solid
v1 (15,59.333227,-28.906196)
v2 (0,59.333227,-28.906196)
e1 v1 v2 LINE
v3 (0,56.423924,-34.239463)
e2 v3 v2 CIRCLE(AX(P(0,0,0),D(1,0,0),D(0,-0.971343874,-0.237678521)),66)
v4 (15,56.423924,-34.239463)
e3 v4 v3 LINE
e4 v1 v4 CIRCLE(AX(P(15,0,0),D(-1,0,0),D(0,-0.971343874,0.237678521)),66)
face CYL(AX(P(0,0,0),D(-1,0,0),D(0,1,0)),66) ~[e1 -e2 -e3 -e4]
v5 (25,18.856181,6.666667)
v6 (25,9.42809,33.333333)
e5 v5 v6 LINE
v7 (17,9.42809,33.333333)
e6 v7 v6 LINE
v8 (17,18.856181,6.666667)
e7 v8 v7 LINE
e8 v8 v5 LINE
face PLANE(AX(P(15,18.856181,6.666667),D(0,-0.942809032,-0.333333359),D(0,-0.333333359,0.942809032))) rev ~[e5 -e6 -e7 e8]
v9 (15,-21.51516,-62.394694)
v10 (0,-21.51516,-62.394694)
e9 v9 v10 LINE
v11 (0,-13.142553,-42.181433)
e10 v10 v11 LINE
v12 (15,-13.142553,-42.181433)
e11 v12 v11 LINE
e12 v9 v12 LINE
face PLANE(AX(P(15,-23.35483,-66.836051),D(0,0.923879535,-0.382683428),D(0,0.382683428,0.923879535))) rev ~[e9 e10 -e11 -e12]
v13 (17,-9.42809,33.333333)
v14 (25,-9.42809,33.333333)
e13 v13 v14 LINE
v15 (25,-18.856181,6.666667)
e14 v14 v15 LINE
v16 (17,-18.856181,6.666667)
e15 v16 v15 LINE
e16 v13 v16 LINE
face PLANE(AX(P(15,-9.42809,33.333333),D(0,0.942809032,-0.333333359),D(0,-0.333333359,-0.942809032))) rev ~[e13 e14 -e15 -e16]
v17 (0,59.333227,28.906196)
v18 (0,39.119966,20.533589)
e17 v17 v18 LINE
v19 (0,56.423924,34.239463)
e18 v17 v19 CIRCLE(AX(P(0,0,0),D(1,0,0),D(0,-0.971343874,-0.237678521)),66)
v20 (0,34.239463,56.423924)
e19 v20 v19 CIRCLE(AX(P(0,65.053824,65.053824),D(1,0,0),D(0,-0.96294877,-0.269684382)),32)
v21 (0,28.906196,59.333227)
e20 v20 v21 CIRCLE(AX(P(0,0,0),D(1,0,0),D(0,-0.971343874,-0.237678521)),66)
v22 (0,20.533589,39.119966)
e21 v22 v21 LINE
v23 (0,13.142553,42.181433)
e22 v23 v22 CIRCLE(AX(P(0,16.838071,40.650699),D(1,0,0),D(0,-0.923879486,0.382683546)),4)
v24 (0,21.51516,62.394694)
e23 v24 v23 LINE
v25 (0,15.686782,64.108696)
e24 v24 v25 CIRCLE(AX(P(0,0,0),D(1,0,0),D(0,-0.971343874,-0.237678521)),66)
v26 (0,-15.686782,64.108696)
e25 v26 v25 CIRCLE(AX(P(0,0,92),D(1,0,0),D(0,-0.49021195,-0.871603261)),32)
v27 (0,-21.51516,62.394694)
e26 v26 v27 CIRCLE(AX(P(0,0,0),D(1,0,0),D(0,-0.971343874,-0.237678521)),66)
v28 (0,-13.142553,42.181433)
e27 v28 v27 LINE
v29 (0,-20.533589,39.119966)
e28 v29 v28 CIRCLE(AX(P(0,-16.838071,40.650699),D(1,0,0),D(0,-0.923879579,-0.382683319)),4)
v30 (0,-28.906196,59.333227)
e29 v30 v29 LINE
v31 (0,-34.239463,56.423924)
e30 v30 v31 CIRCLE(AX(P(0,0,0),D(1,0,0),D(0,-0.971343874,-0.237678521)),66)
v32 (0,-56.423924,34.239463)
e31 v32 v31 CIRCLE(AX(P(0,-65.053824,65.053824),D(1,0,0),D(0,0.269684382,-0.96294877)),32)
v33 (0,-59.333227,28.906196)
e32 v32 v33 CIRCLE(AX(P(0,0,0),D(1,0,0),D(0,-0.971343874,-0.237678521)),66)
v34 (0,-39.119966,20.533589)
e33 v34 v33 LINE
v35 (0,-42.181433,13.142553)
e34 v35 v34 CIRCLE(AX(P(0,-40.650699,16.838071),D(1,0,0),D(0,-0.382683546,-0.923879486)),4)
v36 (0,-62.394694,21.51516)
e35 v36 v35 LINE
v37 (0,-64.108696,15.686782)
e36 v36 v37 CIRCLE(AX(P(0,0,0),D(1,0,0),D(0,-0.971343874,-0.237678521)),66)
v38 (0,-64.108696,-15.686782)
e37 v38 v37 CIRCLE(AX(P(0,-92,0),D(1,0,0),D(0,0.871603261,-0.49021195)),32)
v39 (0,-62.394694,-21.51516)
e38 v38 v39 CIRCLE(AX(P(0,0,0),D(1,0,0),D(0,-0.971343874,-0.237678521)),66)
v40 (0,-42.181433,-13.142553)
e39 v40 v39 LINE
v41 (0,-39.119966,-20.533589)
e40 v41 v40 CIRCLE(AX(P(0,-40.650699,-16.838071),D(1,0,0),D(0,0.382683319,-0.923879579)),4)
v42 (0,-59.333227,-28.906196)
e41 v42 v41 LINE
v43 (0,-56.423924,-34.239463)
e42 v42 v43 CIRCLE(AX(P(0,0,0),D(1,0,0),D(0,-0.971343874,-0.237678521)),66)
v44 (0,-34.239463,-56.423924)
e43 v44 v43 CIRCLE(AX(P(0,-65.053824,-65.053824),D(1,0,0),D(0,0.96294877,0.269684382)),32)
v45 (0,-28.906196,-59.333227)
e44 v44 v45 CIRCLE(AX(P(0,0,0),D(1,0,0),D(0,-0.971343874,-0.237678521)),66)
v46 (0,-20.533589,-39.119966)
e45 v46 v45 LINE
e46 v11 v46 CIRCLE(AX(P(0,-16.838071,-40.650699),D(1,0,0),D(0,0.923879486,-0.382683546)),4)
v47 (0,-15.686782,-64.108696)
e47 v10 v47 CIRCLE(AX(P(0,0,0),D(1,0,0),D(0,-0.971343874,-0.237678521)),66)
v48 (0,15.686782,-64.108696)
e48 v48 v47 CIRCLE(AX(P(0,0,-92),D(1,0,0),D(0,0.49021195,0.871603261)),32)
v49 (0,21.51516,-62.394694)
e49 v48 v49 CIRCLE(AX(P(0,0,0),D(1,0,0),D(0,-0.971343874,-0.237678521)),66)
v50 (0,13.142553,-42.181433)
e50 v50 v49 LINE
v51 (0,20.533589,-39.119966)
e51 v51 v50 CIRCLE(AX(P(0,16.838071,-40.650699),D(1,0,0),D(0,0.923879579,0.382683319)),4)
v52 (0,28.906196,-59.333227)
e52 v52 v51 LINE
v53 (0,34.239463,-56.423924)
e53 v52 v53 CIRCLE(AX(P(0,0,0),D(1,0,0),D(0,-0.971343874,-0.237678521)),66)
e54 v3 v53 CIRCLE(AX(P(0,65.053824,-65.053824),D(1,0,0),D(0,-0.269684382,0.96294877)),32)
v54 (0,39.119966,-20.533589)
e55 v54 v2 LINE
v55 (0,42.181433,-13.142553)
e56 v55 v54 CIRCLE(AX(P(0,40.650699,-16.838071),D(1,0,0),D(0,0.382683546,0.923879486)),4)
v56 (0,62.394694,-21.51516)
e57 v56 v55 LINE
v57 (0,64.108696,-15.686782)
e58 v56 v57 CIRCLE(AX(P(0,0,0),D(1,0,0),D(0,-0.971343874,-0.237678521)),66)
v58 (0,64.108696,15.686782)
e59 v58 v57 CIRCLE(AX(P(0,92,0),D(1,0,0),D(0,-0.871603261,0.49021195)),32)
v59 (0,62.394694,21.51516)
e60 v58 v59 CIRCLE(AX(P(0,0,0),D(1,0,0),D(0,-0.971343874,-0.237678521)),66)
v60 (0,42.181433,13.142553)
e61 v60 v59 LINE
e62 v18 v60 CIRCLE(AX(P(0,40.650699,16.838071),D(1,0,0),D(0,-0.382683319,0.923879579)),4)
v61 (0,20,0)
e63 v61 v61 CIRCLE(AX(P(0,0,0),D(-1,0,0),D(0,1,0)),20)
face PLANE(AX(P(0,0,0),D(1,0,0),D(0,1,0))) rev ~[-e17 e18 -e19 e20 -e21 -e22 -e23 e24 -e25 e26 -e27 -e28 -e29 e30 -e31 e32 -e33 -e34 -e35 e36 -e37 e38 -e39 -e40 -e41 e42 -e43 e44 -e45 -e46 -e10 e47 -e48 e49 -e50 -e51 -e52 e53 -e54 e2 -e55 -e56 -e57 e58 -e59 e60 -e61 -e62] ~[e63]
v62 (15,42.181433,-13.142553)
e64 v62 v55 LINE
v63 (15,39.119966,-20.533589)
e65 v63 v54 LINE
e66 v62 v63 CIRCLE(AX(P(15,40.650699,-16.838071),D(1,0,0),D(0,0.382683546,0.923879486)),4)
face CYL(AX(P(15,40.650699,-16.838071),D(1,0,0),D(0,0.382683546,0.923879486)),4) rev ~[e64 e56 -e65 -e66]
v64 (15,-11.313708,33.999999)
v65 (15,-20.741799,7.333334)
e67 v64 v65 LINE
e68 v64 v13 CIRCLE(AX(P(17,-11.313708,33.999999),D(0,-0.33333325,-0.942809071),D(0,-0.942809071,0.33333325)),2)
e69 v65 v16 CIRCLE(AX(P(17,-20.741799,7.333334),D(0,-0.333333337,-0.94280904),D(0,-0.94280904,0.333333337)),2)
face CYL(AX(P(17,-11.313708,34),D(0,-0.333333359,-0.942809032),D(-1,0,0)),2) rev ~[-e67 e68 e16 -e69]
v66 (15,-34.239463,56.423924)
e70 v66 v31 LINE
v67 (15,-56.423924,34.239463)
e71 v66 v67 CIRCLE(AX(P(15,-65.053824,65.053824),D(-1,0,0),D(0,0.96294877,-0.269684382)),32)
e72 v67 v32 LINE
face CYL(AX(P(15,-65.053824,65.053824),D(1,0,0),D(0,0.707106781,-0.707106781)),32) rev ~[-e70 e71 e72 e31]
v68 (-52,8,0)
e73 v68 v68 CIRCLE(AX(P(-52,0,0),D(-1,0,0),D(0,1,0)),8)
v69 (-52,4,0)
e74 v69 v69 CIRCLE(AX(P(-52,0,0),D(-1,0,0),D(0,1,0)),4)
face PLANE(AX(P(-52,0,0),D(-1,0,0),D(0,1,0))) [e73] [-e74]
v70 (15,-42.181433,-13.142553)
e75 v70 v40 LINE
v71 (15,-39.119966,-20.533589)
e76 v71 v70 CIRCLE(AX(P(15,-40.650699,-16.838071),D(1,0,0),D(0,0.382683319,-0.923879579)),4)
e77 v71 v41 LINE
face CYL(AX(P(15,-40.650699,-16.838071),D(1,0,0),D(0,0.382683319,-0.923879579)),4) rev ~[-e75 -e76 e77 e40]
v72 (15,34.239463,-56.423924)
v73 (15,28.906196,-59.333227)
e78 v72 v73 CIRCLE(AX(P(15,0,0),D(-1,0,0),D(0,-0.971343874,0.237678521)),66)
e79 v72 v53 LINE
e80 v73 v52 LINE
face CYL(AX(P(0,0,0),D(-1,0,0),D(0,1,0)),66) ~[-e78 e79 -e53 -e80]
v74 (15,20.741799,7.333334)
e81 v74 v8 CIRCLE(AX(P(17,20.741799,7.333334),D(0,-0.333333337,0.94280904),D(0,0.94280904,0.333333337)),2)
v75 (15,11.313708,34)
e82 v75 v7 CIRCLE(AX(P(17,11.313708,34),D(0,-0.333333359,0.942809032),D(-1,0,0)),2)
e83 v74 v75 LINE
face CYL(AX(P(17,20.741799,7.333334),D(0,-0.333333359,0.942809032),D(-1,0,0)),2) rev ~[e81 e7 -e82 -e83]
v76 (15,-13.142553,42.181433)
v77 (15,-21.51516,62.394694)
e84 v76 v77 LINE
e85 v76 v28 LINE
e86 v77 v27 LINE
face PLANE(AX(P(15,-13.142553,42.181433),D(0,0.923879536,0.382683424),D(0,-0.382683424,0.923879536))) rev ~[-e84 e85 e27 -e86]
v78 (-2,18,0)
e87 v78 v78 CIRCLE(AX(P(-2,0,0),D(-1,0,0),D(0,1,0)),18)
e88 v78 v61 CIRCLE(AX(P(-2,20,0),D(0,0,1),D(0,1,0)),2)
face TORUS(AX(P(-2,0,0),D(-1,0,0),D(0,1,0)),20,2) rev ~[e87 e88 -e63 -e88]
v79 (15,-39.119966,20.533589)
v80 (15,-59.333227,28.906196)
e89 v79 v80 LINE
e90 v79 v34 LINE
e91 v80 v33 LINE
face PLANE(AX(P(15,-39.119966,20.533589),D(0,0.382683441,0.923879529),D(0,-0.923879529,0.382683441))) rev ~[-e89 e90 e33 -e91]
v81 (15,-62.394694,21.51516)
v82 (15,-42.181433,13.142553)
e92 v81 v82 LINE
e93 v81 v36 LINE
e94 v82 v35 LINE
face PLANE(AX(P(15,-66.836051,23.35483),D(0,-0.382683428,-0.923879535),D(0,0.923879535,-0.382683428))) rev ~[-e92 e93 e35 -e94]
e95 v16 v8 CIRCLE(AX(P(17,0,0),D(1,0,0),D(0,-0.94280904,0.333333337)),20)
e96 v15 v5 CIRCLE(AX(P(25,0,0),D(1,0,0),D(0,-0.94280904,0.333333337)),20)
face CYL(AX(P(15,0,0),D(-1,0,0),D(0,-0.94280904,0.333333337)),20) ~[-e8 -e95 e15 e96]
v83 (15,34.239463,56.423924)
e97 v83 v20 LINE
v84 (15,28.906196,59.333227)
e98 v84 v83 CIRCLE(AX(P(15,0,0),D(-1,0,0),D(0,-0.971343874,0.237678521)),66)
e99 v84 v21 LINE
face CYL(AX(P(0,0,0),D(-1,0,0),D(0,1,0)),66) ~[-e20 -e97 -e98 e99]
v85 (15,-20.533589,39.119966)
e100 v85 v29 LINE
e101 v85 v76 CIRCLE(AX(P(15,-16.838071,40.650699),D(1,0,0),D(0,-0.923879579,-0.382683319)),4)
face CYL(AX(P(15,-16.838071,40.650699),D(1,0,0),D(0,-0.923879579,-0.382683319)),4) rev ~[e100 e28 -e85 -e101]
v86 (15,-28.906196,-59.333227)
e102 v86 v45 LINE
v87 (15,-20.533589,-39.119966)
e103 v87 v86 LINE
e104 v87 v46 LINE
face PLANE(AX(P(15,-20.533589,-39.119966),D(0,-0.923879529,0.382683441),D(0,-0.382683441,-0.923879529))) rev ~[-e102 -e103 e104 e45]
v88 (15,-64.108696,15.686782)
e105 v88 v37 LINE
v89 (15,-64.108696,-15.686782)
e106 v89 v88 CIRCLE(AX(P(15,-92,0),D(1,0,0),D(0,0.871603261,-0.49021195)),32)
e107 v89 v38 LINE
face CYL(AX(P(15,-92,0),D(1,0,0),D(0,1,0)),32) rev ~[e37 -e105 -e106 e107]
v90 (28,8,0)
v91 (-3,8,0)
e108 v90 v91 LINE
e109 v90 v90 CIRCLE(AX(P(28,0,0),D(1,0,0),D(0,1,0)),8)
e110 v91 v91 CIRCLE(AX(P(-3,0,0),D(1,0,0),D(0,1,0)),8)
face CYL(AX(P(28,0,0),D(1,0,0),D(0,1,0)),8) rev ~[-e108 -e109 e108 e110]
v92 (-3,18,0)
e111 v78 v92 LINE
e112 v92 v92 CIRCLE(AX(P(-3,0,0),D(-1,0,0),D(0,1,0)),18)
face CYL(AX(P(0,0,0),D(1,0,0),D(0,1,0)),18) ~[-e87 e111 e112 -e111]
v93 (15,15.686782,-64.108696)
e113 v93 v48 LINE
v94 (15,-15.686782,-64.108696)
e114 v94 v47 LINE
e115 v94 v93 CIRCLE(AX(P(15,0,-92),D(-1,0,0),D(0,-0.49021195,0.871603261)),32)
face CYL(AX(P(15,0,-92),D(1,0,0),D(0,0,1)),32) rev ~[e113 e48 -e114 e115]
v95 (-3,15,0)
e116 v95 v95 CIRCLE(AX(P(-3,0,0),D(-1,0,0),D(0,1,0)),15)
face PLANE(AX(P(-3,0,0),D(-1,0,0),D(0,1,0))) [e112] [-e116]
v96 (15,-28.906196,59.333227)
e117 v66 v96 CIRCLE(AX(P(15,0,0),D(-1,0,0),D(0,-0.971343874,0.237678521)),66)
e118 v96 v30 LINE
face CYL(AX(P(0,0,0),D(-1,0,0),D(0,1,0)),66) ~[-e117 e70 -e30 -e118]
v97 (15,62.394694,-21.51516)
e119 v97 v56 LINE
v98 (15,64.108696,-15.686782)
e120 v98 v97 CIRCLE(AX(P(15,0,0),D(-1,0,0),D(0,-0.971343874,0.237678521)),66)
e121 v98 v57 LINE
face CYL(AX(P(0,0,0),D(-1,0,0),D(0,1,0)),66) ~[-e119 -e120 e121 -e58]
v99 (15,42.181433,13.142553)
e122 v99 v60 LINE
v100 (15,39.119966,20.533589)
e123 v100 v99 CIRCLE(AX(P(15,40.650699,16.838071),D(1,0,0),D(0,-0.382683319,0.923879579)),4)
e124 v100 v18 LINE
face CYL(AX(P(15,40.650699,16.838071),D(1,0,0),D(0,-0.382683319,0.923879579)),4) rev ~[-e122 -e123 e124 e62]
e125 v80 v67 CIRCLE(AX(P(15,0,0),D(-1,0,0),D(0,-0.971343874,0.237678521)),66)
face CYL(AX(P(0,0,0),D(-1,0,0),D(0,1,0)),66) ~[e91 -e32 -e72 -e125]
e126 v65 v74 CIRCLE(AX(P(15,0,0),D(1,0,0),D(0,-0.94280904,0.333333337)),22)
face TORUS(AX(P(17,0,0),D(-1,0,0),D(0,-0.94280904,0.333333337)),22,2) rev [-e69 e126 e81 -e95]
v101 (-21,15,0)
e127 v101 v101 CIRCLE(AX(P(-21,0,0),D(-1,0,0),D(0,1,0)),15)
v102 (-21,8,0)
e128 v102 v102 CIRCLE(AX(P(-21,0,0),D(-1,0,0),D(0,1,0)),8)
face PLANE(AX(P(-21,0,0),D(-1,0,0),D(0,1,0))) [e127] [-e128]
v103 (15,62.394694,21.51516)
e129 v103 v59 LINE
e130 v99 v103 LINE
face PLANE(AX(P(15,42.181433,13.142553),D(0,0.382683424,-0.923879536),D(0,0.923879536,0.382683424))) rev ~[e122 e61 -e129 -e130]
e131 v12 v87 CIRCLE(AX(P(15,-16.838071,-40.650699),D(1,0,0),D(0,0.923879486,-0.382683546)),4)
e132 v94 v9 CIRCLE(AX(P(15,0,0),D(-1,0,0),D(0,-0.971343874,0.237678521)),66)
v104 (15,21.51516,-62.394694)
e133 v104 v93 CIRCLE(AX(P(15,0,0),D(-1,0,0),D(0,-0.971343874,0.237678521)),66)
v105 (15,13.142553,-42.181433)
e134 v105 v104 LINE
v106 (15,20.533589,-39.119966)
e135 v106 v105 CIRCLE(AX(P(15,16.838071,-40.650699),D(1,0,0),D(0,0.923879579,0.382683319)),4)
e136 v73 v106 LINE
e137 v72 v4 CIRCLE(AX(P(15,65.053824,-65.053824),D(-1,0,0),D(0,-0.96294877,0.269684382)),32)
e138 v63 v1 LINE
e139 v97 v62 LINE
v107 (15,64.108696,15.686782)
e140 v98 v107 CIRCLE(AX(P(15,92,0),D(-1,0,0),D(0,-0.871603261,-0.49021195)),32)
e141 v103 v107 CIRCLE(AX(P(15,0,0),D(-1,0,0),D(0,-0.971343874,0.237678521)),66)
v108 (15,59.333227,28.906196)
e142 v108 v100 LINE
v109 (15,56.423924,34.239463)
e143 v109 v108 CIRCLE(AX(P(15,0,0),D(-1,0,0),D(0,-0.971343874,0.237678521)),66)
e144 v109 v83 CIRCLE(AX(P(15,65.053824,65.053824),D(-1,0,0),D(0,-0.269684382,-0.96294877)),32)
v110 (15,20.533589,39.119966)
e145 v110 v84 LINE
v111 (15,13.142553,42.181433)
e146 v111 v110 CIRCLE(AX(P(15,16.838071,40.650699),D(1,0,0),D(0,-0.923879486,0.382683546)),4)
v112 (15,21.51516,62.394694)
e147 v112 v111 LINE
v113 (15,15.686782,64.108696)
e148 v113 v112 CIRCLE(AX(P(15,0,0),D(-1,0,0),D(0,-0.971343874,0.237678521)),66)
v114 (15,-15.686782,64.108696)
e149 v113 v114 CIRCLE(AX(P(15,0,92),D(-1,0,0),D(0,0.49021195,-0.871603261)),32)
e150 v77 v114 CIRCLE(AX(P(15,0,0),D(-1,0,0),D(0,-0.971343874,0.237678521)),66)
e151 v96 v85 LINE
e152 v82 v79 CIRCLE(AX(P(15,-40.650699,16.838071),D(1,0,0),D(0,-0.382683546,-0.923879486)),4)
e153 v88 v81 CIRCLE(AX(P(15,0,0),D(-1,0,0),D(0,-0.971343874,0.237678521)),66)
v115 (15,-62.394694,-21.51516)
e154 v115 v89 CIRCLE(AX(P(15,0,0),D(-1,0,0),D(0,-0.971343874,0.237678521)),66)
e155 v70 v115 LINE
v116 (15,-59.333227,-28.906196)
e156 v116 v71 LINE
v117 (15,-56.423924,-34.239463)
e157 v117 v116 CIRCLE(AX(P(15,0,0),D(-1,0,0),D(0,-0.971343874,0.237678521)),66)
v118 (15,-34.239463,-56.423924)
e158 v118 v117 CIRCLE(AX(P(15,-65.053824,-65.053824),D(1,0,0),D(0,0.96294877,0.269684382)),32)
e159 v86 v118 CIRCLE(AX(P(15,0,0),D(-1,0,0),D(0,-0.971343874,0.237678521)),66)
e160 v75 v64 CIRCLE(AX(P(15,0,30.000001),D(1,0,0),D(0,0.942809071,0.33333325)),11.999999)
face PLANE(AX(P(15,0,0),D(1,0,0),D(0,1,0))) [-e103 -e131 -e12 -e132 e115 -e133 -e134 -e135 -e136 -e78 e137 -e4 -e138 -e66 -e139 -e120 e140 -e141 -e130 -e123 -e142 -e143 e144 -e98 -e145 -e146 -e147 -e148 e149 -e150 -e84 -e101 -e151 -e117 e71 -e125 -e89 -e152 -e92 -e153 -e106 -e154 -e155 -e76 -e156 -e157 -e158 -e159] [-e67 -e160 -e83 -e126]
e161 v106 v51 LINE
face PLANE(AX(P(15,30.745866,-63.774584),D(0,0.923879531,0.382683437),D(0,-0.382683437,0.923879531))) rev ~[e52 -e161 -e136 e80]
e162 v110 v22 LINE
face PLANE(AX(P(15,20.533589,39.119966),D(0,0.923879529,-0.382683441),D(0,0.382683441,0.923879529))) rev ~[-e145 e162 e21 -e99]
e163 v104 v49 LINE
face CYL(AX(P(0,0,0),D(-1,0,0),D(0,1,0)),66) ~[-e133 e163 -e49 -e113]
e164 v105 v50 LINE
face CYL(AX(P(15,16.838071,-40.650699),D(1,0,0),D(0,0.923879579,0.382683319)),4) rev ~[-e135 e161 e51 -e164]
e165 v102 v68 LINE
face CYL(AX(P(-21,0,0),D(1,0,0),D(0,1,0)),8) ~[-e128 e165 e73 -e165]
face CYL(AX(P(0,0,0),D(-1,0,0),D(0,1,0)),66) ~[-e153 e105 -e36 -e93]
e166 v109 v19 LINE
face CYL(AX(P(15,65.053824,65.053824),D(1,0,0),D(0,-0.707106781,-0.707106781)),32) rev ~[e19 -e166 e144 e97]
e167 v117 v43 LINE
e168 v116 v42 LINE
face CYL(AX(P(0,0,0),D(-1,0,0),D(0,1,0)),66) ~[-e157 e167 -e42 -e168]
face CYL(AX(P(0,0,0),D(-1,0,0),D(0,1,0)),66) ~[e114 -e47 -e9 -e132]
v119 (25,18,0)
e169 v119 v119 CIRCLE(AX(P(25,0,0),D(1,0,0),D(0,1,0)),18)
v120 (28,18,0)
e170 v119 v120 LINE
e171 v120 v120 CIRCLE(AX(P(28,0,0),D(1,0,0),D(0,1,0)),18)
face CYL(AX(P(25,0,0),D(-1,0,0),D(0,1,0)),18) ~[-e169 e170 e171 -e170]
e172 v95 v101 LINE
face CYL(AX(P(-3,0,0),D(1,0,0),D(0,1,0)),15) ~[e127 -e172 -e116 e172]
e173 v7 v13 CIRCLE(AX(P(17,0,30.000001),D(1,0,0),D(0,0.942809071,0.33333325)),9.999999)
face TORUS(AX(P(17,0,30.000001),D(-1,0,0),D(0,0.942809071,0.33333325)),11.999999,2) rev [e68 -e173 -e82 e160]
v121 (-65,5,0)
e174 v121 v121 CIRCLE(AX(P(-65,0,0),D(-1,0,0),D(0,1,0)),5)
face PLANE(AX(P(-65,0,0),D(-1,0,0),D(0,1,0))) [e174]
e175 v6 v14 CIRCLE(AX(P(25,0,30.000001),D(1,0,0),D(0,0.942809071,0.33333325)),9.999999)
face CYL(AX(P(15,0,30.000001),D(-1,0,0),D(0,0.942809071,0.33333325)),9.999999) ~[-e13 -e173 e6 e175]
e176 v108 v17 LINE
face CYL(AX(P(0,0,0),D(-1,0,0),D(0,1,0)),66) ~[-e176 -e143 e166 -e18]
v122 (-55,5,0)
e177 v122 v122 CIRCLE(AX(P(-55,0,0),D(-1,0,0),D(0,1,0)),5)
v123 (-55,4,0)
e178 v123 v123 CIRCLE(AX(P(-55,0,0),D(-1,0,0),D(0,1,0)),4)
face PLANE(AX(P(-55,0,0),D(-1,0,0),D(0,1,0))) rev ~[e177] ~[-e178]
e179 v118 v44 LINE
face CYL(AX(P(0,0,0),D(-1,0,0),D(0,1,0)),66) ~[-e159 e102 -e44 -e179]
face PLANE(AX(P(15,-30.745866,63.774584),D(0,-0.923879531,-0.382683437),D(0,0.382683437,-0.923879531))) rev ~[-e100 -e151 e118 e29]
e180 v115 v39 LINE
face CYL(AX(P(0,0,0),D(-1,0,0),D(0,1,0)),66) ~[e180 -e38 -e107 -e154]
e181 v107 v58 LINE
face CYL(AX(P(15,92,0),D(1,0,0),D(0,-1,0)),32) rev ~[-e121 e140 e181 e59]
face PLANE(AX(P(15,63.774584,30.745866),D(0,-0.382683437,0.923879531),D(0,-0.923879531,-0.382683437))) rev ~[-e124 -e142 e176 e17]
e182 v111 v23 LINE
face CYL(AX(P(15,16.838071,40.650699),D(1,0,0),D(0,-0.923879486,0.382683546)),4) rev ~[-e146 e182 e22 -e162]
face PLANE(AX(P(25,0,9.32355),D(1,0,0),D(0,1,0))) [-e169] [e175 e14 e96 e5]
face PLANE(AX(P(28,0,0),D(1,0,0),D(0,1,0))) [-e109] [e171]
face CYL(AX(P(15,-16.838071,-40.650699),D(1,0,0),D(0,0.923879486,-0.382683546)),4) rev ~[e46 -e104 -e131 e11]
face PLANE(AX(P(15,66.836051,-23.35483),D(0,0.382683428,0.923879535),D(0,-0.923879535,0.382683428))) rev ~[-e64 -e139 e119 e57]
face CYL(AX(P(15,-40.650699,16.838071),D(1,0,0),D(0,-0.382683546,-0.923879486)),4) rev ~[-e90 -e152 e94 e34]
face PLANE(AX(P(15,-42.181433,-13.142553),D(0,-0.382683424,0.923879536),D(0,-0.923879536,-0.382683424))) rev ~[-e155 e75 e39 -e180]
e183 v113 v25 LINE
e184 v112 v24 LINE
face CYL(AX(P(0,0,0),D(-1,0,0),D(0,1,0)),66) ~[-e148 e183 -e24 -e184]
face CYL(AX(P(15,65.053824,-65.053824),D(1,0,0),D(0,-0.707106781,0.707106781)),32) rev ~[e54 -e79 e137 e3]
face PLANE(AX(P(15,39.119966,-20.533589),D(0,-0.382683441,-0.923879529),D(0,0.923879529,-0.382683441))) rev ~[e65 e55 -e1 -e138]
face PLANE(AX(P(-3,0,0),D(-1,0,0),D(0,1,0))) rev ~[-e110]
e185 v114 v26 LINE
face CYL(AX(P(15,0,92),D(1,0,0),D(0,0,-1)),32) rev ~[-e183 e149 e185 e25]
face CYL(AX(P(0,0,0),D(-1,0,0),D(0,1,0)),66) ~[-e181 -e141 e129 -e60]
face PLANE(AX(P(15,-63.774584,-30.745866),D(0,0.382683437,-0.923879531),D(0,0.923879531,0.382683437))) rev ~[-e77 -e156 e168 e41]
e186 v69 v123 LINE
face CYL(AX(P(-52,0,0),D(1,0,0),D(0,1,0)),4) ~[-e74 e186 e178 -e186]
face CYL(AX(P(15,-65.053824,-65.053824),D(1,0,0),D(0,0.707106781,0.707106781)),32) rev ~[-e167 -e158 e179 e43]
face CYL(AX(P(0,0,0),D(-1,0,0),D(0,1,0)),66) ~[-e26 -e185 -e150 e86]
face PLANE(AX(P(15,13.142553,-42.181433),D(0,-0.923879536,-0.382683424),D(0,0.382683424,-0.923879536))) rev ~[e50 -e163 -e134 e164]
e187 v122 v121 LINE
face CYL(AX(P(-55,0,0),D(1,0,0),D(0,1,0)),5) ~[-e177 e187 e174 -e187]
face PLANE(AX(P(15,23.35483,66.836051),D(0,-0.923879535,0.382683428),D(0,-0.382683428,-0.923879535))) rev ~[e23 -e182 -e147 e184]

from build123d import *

# Parameters (mm, degrees)
SKETCH_R              = 66
PAD_DEPTH             = 15
SKETCH001_R           = 32
POCKET_DEPTH          = 389.556737
POLARPATTERN_COUNT    = 8
POCKET001_DEPTH       = 378.893286
POLARPATTERN001_COUNT = 8
PAD001_DEPTH          = 10
SKETCH004_R           = 18
PAD002_DEPTH          = 3
SKETCH005_R           = 18
PAD003_DEPTH          = 3
SKETCH006_R           = 8
POCKET002_DEPTH       = 31.001
SKETCH007_R           = 15
PAD004_DEPTH          = 18
SKETCH008_R           = 8
PAD005_DEPTH          = 31
SKETCH009_R           = 4
PAD006_DEPTH          = 3
SKETCH010_R           = 5
PAD007_DEPTH          = 10
FILLET_R              = 2
FILLET001_R           = 2


with BuildPart() as part:
    # Sketch → Pad (new body)
    with BuildSketch(Plane.YZ):
        Circle(SKETCH_R)
    extrude(amount=PAD_DEPTH)

    # Sketch001 (on Face3 of Pad) → Pocket (cut, through all)
    with BuildSketch(Plane.YZ.offset(15)):
        with Locations((-92, 0)):
            Circle(SKETCH001_R)
    pocket = extrude(amount=-POCKET_DEPTH, mode=Mode.SUBTRACT)

    # PolarPattern: Pocket ×8 about axis
    polarpattern_axis = Axis((15, 0, 0), (1, 0, 0))
    for i in range(1, POLARPATTERN_COUNT):
        add(pocket.rotate(polarpattern_axis, i * 360 / POLARPATTERN_COUNT), mode=Mode.SUBTRACT)

    # Sketch002 (on Face1 of PolarPattern) → Pocket001 (cut, through all)
    with BuildSketch(Plane.YZ.offset(15)):
        with BuildLine():
            ThreePointArc((-63.774583, 30.745866), (-69.000835, 28.581082), (-66.836051, 23.35483))
            Line((-66.836051, 23.35483), (-42.181433, 13.142553))
            ThreePointArc((-42.181433, 13.142553), (-36.955181, 15.307337), (-39.119966, 20.533589))
            Line((-39.119966, 20.533589), (-63.774583, 30.745866))
        make_face()
    pocket001 = extrude(amount=-POCKET001_DEPTH, mode=Mode.SUBTRACT)

    # PolarPattern001: Pocket001 ×8 about axis
    polarpattern001_axis = Axis((15, 0, 0), (1, 0, 0))
    for i in range(1, POLARPATTERN001_COUNT):
        add(pocket001.rotate(polarpattern001_axis, i * 360 / POLARPATTERN001_COUNT), mode=Mode.SUBTRACT)

    # Sketch003 (on Face1 of PolarPattern001) → Pad001 (join)
    with BuildSketch(Plane.YZ.offset(15)):
        with BuildLine():
            ThreePointArc((9.42809, 33.333333), (0, 40), (-9.42809, 33.333333))
            Line((-9.42809, 33.333333), (-18.856181, 6.666667))
            ThreePointArc((-18.856181, 6.666667), (0, -20), (18.856181, 6.666667))
            Line((18.856181, 6.666667), (9.42809, 33.333333))
        make_face()
    extrude(amount=PAD001_DEPTH)

    # Sketch004 (on Face55 of Pad001) → Pad002 (join)
    with BuildSketch(Plane.YZ.offset(25)):
        Circle(SKETCH004_R)
    extrude(amount=PAD002_DEPTH)

    # Sketch005 (on Face54 of Pad002) → Pad003 (join)
    with BuildSketch(Plane(origin=(0, 0, 0), x_dir=(0, 1, 0), z_dir=(-1, 0, 0))):
        Circle(SKETCH005_R)
    extrude(amount=PAD003_DEPTH)

    # Sketch006 (on Face59 of Pad003) → Pocket002 (cut, through all)
    with BuildSketch(Plane.YZ.offset(28)):
        Circle(SKETCH006_R)
    extrude(amount=-POCKET002_DEPTH, mode=Mode.SUBTRACT)

    # Sketch007 (on Face58 of Pocket002) → Pad004 (join)
    with BuildSketch(Plane(origin=(-3, 0, 0), x_dir=(0, 1, 0), z_dir=(-1, 0, 0))):
        Circle(SKETCH007_R)
    extrude(amount=PAD004_DEPTH)

    # Sketch008 (on Face62 of Pad004) → Pad005 (join)
    with BuildSketch(Plane(origin=(-21, 0, 0), x_dir=(0, 1, 0), z_dir=(-1, 0, 0))):
        Circle(SKETCH008_R)
    extrude(amount=PAD005_DEPTH)

    # Sketch009 (on Face65 of Pad005) → Pad006 (join)
    with BuildSketch(Plane(origin=(-52, 0, 0), x_dir=(0, 1, 0), z_dir=(-1, 0, 0))):
        Circle(SKETCH009_R)
    extrude(amount=PAD006_DEPTH)

    # Sketch010 (on Face67 of Pad006) → Pad007 (join)
    with BuildSketch(Plane(origin=(-55, 0, 0), x_dir=(0, 1, 0), z_dir=(-1, 0, 0))):
        Circle(SKETCH010_R)
    extrude(amount=PAD007_DEPTH)

    # Fillet
    fillet_edges = [part.edges().sort_by_distance(p)[0] for p in [
        (0, -18, 0),
    ]]
    fillet(fillet_edges, radius=FILLET_R)

    # Fillet001
    fillet001_edges = [part.edges().sort_by_distance(p)[0] for p in [
        (15, 0, -20),
    ]]
    fillet(fillet001_edges, radius=FILLET001_R)


solid = part.part
